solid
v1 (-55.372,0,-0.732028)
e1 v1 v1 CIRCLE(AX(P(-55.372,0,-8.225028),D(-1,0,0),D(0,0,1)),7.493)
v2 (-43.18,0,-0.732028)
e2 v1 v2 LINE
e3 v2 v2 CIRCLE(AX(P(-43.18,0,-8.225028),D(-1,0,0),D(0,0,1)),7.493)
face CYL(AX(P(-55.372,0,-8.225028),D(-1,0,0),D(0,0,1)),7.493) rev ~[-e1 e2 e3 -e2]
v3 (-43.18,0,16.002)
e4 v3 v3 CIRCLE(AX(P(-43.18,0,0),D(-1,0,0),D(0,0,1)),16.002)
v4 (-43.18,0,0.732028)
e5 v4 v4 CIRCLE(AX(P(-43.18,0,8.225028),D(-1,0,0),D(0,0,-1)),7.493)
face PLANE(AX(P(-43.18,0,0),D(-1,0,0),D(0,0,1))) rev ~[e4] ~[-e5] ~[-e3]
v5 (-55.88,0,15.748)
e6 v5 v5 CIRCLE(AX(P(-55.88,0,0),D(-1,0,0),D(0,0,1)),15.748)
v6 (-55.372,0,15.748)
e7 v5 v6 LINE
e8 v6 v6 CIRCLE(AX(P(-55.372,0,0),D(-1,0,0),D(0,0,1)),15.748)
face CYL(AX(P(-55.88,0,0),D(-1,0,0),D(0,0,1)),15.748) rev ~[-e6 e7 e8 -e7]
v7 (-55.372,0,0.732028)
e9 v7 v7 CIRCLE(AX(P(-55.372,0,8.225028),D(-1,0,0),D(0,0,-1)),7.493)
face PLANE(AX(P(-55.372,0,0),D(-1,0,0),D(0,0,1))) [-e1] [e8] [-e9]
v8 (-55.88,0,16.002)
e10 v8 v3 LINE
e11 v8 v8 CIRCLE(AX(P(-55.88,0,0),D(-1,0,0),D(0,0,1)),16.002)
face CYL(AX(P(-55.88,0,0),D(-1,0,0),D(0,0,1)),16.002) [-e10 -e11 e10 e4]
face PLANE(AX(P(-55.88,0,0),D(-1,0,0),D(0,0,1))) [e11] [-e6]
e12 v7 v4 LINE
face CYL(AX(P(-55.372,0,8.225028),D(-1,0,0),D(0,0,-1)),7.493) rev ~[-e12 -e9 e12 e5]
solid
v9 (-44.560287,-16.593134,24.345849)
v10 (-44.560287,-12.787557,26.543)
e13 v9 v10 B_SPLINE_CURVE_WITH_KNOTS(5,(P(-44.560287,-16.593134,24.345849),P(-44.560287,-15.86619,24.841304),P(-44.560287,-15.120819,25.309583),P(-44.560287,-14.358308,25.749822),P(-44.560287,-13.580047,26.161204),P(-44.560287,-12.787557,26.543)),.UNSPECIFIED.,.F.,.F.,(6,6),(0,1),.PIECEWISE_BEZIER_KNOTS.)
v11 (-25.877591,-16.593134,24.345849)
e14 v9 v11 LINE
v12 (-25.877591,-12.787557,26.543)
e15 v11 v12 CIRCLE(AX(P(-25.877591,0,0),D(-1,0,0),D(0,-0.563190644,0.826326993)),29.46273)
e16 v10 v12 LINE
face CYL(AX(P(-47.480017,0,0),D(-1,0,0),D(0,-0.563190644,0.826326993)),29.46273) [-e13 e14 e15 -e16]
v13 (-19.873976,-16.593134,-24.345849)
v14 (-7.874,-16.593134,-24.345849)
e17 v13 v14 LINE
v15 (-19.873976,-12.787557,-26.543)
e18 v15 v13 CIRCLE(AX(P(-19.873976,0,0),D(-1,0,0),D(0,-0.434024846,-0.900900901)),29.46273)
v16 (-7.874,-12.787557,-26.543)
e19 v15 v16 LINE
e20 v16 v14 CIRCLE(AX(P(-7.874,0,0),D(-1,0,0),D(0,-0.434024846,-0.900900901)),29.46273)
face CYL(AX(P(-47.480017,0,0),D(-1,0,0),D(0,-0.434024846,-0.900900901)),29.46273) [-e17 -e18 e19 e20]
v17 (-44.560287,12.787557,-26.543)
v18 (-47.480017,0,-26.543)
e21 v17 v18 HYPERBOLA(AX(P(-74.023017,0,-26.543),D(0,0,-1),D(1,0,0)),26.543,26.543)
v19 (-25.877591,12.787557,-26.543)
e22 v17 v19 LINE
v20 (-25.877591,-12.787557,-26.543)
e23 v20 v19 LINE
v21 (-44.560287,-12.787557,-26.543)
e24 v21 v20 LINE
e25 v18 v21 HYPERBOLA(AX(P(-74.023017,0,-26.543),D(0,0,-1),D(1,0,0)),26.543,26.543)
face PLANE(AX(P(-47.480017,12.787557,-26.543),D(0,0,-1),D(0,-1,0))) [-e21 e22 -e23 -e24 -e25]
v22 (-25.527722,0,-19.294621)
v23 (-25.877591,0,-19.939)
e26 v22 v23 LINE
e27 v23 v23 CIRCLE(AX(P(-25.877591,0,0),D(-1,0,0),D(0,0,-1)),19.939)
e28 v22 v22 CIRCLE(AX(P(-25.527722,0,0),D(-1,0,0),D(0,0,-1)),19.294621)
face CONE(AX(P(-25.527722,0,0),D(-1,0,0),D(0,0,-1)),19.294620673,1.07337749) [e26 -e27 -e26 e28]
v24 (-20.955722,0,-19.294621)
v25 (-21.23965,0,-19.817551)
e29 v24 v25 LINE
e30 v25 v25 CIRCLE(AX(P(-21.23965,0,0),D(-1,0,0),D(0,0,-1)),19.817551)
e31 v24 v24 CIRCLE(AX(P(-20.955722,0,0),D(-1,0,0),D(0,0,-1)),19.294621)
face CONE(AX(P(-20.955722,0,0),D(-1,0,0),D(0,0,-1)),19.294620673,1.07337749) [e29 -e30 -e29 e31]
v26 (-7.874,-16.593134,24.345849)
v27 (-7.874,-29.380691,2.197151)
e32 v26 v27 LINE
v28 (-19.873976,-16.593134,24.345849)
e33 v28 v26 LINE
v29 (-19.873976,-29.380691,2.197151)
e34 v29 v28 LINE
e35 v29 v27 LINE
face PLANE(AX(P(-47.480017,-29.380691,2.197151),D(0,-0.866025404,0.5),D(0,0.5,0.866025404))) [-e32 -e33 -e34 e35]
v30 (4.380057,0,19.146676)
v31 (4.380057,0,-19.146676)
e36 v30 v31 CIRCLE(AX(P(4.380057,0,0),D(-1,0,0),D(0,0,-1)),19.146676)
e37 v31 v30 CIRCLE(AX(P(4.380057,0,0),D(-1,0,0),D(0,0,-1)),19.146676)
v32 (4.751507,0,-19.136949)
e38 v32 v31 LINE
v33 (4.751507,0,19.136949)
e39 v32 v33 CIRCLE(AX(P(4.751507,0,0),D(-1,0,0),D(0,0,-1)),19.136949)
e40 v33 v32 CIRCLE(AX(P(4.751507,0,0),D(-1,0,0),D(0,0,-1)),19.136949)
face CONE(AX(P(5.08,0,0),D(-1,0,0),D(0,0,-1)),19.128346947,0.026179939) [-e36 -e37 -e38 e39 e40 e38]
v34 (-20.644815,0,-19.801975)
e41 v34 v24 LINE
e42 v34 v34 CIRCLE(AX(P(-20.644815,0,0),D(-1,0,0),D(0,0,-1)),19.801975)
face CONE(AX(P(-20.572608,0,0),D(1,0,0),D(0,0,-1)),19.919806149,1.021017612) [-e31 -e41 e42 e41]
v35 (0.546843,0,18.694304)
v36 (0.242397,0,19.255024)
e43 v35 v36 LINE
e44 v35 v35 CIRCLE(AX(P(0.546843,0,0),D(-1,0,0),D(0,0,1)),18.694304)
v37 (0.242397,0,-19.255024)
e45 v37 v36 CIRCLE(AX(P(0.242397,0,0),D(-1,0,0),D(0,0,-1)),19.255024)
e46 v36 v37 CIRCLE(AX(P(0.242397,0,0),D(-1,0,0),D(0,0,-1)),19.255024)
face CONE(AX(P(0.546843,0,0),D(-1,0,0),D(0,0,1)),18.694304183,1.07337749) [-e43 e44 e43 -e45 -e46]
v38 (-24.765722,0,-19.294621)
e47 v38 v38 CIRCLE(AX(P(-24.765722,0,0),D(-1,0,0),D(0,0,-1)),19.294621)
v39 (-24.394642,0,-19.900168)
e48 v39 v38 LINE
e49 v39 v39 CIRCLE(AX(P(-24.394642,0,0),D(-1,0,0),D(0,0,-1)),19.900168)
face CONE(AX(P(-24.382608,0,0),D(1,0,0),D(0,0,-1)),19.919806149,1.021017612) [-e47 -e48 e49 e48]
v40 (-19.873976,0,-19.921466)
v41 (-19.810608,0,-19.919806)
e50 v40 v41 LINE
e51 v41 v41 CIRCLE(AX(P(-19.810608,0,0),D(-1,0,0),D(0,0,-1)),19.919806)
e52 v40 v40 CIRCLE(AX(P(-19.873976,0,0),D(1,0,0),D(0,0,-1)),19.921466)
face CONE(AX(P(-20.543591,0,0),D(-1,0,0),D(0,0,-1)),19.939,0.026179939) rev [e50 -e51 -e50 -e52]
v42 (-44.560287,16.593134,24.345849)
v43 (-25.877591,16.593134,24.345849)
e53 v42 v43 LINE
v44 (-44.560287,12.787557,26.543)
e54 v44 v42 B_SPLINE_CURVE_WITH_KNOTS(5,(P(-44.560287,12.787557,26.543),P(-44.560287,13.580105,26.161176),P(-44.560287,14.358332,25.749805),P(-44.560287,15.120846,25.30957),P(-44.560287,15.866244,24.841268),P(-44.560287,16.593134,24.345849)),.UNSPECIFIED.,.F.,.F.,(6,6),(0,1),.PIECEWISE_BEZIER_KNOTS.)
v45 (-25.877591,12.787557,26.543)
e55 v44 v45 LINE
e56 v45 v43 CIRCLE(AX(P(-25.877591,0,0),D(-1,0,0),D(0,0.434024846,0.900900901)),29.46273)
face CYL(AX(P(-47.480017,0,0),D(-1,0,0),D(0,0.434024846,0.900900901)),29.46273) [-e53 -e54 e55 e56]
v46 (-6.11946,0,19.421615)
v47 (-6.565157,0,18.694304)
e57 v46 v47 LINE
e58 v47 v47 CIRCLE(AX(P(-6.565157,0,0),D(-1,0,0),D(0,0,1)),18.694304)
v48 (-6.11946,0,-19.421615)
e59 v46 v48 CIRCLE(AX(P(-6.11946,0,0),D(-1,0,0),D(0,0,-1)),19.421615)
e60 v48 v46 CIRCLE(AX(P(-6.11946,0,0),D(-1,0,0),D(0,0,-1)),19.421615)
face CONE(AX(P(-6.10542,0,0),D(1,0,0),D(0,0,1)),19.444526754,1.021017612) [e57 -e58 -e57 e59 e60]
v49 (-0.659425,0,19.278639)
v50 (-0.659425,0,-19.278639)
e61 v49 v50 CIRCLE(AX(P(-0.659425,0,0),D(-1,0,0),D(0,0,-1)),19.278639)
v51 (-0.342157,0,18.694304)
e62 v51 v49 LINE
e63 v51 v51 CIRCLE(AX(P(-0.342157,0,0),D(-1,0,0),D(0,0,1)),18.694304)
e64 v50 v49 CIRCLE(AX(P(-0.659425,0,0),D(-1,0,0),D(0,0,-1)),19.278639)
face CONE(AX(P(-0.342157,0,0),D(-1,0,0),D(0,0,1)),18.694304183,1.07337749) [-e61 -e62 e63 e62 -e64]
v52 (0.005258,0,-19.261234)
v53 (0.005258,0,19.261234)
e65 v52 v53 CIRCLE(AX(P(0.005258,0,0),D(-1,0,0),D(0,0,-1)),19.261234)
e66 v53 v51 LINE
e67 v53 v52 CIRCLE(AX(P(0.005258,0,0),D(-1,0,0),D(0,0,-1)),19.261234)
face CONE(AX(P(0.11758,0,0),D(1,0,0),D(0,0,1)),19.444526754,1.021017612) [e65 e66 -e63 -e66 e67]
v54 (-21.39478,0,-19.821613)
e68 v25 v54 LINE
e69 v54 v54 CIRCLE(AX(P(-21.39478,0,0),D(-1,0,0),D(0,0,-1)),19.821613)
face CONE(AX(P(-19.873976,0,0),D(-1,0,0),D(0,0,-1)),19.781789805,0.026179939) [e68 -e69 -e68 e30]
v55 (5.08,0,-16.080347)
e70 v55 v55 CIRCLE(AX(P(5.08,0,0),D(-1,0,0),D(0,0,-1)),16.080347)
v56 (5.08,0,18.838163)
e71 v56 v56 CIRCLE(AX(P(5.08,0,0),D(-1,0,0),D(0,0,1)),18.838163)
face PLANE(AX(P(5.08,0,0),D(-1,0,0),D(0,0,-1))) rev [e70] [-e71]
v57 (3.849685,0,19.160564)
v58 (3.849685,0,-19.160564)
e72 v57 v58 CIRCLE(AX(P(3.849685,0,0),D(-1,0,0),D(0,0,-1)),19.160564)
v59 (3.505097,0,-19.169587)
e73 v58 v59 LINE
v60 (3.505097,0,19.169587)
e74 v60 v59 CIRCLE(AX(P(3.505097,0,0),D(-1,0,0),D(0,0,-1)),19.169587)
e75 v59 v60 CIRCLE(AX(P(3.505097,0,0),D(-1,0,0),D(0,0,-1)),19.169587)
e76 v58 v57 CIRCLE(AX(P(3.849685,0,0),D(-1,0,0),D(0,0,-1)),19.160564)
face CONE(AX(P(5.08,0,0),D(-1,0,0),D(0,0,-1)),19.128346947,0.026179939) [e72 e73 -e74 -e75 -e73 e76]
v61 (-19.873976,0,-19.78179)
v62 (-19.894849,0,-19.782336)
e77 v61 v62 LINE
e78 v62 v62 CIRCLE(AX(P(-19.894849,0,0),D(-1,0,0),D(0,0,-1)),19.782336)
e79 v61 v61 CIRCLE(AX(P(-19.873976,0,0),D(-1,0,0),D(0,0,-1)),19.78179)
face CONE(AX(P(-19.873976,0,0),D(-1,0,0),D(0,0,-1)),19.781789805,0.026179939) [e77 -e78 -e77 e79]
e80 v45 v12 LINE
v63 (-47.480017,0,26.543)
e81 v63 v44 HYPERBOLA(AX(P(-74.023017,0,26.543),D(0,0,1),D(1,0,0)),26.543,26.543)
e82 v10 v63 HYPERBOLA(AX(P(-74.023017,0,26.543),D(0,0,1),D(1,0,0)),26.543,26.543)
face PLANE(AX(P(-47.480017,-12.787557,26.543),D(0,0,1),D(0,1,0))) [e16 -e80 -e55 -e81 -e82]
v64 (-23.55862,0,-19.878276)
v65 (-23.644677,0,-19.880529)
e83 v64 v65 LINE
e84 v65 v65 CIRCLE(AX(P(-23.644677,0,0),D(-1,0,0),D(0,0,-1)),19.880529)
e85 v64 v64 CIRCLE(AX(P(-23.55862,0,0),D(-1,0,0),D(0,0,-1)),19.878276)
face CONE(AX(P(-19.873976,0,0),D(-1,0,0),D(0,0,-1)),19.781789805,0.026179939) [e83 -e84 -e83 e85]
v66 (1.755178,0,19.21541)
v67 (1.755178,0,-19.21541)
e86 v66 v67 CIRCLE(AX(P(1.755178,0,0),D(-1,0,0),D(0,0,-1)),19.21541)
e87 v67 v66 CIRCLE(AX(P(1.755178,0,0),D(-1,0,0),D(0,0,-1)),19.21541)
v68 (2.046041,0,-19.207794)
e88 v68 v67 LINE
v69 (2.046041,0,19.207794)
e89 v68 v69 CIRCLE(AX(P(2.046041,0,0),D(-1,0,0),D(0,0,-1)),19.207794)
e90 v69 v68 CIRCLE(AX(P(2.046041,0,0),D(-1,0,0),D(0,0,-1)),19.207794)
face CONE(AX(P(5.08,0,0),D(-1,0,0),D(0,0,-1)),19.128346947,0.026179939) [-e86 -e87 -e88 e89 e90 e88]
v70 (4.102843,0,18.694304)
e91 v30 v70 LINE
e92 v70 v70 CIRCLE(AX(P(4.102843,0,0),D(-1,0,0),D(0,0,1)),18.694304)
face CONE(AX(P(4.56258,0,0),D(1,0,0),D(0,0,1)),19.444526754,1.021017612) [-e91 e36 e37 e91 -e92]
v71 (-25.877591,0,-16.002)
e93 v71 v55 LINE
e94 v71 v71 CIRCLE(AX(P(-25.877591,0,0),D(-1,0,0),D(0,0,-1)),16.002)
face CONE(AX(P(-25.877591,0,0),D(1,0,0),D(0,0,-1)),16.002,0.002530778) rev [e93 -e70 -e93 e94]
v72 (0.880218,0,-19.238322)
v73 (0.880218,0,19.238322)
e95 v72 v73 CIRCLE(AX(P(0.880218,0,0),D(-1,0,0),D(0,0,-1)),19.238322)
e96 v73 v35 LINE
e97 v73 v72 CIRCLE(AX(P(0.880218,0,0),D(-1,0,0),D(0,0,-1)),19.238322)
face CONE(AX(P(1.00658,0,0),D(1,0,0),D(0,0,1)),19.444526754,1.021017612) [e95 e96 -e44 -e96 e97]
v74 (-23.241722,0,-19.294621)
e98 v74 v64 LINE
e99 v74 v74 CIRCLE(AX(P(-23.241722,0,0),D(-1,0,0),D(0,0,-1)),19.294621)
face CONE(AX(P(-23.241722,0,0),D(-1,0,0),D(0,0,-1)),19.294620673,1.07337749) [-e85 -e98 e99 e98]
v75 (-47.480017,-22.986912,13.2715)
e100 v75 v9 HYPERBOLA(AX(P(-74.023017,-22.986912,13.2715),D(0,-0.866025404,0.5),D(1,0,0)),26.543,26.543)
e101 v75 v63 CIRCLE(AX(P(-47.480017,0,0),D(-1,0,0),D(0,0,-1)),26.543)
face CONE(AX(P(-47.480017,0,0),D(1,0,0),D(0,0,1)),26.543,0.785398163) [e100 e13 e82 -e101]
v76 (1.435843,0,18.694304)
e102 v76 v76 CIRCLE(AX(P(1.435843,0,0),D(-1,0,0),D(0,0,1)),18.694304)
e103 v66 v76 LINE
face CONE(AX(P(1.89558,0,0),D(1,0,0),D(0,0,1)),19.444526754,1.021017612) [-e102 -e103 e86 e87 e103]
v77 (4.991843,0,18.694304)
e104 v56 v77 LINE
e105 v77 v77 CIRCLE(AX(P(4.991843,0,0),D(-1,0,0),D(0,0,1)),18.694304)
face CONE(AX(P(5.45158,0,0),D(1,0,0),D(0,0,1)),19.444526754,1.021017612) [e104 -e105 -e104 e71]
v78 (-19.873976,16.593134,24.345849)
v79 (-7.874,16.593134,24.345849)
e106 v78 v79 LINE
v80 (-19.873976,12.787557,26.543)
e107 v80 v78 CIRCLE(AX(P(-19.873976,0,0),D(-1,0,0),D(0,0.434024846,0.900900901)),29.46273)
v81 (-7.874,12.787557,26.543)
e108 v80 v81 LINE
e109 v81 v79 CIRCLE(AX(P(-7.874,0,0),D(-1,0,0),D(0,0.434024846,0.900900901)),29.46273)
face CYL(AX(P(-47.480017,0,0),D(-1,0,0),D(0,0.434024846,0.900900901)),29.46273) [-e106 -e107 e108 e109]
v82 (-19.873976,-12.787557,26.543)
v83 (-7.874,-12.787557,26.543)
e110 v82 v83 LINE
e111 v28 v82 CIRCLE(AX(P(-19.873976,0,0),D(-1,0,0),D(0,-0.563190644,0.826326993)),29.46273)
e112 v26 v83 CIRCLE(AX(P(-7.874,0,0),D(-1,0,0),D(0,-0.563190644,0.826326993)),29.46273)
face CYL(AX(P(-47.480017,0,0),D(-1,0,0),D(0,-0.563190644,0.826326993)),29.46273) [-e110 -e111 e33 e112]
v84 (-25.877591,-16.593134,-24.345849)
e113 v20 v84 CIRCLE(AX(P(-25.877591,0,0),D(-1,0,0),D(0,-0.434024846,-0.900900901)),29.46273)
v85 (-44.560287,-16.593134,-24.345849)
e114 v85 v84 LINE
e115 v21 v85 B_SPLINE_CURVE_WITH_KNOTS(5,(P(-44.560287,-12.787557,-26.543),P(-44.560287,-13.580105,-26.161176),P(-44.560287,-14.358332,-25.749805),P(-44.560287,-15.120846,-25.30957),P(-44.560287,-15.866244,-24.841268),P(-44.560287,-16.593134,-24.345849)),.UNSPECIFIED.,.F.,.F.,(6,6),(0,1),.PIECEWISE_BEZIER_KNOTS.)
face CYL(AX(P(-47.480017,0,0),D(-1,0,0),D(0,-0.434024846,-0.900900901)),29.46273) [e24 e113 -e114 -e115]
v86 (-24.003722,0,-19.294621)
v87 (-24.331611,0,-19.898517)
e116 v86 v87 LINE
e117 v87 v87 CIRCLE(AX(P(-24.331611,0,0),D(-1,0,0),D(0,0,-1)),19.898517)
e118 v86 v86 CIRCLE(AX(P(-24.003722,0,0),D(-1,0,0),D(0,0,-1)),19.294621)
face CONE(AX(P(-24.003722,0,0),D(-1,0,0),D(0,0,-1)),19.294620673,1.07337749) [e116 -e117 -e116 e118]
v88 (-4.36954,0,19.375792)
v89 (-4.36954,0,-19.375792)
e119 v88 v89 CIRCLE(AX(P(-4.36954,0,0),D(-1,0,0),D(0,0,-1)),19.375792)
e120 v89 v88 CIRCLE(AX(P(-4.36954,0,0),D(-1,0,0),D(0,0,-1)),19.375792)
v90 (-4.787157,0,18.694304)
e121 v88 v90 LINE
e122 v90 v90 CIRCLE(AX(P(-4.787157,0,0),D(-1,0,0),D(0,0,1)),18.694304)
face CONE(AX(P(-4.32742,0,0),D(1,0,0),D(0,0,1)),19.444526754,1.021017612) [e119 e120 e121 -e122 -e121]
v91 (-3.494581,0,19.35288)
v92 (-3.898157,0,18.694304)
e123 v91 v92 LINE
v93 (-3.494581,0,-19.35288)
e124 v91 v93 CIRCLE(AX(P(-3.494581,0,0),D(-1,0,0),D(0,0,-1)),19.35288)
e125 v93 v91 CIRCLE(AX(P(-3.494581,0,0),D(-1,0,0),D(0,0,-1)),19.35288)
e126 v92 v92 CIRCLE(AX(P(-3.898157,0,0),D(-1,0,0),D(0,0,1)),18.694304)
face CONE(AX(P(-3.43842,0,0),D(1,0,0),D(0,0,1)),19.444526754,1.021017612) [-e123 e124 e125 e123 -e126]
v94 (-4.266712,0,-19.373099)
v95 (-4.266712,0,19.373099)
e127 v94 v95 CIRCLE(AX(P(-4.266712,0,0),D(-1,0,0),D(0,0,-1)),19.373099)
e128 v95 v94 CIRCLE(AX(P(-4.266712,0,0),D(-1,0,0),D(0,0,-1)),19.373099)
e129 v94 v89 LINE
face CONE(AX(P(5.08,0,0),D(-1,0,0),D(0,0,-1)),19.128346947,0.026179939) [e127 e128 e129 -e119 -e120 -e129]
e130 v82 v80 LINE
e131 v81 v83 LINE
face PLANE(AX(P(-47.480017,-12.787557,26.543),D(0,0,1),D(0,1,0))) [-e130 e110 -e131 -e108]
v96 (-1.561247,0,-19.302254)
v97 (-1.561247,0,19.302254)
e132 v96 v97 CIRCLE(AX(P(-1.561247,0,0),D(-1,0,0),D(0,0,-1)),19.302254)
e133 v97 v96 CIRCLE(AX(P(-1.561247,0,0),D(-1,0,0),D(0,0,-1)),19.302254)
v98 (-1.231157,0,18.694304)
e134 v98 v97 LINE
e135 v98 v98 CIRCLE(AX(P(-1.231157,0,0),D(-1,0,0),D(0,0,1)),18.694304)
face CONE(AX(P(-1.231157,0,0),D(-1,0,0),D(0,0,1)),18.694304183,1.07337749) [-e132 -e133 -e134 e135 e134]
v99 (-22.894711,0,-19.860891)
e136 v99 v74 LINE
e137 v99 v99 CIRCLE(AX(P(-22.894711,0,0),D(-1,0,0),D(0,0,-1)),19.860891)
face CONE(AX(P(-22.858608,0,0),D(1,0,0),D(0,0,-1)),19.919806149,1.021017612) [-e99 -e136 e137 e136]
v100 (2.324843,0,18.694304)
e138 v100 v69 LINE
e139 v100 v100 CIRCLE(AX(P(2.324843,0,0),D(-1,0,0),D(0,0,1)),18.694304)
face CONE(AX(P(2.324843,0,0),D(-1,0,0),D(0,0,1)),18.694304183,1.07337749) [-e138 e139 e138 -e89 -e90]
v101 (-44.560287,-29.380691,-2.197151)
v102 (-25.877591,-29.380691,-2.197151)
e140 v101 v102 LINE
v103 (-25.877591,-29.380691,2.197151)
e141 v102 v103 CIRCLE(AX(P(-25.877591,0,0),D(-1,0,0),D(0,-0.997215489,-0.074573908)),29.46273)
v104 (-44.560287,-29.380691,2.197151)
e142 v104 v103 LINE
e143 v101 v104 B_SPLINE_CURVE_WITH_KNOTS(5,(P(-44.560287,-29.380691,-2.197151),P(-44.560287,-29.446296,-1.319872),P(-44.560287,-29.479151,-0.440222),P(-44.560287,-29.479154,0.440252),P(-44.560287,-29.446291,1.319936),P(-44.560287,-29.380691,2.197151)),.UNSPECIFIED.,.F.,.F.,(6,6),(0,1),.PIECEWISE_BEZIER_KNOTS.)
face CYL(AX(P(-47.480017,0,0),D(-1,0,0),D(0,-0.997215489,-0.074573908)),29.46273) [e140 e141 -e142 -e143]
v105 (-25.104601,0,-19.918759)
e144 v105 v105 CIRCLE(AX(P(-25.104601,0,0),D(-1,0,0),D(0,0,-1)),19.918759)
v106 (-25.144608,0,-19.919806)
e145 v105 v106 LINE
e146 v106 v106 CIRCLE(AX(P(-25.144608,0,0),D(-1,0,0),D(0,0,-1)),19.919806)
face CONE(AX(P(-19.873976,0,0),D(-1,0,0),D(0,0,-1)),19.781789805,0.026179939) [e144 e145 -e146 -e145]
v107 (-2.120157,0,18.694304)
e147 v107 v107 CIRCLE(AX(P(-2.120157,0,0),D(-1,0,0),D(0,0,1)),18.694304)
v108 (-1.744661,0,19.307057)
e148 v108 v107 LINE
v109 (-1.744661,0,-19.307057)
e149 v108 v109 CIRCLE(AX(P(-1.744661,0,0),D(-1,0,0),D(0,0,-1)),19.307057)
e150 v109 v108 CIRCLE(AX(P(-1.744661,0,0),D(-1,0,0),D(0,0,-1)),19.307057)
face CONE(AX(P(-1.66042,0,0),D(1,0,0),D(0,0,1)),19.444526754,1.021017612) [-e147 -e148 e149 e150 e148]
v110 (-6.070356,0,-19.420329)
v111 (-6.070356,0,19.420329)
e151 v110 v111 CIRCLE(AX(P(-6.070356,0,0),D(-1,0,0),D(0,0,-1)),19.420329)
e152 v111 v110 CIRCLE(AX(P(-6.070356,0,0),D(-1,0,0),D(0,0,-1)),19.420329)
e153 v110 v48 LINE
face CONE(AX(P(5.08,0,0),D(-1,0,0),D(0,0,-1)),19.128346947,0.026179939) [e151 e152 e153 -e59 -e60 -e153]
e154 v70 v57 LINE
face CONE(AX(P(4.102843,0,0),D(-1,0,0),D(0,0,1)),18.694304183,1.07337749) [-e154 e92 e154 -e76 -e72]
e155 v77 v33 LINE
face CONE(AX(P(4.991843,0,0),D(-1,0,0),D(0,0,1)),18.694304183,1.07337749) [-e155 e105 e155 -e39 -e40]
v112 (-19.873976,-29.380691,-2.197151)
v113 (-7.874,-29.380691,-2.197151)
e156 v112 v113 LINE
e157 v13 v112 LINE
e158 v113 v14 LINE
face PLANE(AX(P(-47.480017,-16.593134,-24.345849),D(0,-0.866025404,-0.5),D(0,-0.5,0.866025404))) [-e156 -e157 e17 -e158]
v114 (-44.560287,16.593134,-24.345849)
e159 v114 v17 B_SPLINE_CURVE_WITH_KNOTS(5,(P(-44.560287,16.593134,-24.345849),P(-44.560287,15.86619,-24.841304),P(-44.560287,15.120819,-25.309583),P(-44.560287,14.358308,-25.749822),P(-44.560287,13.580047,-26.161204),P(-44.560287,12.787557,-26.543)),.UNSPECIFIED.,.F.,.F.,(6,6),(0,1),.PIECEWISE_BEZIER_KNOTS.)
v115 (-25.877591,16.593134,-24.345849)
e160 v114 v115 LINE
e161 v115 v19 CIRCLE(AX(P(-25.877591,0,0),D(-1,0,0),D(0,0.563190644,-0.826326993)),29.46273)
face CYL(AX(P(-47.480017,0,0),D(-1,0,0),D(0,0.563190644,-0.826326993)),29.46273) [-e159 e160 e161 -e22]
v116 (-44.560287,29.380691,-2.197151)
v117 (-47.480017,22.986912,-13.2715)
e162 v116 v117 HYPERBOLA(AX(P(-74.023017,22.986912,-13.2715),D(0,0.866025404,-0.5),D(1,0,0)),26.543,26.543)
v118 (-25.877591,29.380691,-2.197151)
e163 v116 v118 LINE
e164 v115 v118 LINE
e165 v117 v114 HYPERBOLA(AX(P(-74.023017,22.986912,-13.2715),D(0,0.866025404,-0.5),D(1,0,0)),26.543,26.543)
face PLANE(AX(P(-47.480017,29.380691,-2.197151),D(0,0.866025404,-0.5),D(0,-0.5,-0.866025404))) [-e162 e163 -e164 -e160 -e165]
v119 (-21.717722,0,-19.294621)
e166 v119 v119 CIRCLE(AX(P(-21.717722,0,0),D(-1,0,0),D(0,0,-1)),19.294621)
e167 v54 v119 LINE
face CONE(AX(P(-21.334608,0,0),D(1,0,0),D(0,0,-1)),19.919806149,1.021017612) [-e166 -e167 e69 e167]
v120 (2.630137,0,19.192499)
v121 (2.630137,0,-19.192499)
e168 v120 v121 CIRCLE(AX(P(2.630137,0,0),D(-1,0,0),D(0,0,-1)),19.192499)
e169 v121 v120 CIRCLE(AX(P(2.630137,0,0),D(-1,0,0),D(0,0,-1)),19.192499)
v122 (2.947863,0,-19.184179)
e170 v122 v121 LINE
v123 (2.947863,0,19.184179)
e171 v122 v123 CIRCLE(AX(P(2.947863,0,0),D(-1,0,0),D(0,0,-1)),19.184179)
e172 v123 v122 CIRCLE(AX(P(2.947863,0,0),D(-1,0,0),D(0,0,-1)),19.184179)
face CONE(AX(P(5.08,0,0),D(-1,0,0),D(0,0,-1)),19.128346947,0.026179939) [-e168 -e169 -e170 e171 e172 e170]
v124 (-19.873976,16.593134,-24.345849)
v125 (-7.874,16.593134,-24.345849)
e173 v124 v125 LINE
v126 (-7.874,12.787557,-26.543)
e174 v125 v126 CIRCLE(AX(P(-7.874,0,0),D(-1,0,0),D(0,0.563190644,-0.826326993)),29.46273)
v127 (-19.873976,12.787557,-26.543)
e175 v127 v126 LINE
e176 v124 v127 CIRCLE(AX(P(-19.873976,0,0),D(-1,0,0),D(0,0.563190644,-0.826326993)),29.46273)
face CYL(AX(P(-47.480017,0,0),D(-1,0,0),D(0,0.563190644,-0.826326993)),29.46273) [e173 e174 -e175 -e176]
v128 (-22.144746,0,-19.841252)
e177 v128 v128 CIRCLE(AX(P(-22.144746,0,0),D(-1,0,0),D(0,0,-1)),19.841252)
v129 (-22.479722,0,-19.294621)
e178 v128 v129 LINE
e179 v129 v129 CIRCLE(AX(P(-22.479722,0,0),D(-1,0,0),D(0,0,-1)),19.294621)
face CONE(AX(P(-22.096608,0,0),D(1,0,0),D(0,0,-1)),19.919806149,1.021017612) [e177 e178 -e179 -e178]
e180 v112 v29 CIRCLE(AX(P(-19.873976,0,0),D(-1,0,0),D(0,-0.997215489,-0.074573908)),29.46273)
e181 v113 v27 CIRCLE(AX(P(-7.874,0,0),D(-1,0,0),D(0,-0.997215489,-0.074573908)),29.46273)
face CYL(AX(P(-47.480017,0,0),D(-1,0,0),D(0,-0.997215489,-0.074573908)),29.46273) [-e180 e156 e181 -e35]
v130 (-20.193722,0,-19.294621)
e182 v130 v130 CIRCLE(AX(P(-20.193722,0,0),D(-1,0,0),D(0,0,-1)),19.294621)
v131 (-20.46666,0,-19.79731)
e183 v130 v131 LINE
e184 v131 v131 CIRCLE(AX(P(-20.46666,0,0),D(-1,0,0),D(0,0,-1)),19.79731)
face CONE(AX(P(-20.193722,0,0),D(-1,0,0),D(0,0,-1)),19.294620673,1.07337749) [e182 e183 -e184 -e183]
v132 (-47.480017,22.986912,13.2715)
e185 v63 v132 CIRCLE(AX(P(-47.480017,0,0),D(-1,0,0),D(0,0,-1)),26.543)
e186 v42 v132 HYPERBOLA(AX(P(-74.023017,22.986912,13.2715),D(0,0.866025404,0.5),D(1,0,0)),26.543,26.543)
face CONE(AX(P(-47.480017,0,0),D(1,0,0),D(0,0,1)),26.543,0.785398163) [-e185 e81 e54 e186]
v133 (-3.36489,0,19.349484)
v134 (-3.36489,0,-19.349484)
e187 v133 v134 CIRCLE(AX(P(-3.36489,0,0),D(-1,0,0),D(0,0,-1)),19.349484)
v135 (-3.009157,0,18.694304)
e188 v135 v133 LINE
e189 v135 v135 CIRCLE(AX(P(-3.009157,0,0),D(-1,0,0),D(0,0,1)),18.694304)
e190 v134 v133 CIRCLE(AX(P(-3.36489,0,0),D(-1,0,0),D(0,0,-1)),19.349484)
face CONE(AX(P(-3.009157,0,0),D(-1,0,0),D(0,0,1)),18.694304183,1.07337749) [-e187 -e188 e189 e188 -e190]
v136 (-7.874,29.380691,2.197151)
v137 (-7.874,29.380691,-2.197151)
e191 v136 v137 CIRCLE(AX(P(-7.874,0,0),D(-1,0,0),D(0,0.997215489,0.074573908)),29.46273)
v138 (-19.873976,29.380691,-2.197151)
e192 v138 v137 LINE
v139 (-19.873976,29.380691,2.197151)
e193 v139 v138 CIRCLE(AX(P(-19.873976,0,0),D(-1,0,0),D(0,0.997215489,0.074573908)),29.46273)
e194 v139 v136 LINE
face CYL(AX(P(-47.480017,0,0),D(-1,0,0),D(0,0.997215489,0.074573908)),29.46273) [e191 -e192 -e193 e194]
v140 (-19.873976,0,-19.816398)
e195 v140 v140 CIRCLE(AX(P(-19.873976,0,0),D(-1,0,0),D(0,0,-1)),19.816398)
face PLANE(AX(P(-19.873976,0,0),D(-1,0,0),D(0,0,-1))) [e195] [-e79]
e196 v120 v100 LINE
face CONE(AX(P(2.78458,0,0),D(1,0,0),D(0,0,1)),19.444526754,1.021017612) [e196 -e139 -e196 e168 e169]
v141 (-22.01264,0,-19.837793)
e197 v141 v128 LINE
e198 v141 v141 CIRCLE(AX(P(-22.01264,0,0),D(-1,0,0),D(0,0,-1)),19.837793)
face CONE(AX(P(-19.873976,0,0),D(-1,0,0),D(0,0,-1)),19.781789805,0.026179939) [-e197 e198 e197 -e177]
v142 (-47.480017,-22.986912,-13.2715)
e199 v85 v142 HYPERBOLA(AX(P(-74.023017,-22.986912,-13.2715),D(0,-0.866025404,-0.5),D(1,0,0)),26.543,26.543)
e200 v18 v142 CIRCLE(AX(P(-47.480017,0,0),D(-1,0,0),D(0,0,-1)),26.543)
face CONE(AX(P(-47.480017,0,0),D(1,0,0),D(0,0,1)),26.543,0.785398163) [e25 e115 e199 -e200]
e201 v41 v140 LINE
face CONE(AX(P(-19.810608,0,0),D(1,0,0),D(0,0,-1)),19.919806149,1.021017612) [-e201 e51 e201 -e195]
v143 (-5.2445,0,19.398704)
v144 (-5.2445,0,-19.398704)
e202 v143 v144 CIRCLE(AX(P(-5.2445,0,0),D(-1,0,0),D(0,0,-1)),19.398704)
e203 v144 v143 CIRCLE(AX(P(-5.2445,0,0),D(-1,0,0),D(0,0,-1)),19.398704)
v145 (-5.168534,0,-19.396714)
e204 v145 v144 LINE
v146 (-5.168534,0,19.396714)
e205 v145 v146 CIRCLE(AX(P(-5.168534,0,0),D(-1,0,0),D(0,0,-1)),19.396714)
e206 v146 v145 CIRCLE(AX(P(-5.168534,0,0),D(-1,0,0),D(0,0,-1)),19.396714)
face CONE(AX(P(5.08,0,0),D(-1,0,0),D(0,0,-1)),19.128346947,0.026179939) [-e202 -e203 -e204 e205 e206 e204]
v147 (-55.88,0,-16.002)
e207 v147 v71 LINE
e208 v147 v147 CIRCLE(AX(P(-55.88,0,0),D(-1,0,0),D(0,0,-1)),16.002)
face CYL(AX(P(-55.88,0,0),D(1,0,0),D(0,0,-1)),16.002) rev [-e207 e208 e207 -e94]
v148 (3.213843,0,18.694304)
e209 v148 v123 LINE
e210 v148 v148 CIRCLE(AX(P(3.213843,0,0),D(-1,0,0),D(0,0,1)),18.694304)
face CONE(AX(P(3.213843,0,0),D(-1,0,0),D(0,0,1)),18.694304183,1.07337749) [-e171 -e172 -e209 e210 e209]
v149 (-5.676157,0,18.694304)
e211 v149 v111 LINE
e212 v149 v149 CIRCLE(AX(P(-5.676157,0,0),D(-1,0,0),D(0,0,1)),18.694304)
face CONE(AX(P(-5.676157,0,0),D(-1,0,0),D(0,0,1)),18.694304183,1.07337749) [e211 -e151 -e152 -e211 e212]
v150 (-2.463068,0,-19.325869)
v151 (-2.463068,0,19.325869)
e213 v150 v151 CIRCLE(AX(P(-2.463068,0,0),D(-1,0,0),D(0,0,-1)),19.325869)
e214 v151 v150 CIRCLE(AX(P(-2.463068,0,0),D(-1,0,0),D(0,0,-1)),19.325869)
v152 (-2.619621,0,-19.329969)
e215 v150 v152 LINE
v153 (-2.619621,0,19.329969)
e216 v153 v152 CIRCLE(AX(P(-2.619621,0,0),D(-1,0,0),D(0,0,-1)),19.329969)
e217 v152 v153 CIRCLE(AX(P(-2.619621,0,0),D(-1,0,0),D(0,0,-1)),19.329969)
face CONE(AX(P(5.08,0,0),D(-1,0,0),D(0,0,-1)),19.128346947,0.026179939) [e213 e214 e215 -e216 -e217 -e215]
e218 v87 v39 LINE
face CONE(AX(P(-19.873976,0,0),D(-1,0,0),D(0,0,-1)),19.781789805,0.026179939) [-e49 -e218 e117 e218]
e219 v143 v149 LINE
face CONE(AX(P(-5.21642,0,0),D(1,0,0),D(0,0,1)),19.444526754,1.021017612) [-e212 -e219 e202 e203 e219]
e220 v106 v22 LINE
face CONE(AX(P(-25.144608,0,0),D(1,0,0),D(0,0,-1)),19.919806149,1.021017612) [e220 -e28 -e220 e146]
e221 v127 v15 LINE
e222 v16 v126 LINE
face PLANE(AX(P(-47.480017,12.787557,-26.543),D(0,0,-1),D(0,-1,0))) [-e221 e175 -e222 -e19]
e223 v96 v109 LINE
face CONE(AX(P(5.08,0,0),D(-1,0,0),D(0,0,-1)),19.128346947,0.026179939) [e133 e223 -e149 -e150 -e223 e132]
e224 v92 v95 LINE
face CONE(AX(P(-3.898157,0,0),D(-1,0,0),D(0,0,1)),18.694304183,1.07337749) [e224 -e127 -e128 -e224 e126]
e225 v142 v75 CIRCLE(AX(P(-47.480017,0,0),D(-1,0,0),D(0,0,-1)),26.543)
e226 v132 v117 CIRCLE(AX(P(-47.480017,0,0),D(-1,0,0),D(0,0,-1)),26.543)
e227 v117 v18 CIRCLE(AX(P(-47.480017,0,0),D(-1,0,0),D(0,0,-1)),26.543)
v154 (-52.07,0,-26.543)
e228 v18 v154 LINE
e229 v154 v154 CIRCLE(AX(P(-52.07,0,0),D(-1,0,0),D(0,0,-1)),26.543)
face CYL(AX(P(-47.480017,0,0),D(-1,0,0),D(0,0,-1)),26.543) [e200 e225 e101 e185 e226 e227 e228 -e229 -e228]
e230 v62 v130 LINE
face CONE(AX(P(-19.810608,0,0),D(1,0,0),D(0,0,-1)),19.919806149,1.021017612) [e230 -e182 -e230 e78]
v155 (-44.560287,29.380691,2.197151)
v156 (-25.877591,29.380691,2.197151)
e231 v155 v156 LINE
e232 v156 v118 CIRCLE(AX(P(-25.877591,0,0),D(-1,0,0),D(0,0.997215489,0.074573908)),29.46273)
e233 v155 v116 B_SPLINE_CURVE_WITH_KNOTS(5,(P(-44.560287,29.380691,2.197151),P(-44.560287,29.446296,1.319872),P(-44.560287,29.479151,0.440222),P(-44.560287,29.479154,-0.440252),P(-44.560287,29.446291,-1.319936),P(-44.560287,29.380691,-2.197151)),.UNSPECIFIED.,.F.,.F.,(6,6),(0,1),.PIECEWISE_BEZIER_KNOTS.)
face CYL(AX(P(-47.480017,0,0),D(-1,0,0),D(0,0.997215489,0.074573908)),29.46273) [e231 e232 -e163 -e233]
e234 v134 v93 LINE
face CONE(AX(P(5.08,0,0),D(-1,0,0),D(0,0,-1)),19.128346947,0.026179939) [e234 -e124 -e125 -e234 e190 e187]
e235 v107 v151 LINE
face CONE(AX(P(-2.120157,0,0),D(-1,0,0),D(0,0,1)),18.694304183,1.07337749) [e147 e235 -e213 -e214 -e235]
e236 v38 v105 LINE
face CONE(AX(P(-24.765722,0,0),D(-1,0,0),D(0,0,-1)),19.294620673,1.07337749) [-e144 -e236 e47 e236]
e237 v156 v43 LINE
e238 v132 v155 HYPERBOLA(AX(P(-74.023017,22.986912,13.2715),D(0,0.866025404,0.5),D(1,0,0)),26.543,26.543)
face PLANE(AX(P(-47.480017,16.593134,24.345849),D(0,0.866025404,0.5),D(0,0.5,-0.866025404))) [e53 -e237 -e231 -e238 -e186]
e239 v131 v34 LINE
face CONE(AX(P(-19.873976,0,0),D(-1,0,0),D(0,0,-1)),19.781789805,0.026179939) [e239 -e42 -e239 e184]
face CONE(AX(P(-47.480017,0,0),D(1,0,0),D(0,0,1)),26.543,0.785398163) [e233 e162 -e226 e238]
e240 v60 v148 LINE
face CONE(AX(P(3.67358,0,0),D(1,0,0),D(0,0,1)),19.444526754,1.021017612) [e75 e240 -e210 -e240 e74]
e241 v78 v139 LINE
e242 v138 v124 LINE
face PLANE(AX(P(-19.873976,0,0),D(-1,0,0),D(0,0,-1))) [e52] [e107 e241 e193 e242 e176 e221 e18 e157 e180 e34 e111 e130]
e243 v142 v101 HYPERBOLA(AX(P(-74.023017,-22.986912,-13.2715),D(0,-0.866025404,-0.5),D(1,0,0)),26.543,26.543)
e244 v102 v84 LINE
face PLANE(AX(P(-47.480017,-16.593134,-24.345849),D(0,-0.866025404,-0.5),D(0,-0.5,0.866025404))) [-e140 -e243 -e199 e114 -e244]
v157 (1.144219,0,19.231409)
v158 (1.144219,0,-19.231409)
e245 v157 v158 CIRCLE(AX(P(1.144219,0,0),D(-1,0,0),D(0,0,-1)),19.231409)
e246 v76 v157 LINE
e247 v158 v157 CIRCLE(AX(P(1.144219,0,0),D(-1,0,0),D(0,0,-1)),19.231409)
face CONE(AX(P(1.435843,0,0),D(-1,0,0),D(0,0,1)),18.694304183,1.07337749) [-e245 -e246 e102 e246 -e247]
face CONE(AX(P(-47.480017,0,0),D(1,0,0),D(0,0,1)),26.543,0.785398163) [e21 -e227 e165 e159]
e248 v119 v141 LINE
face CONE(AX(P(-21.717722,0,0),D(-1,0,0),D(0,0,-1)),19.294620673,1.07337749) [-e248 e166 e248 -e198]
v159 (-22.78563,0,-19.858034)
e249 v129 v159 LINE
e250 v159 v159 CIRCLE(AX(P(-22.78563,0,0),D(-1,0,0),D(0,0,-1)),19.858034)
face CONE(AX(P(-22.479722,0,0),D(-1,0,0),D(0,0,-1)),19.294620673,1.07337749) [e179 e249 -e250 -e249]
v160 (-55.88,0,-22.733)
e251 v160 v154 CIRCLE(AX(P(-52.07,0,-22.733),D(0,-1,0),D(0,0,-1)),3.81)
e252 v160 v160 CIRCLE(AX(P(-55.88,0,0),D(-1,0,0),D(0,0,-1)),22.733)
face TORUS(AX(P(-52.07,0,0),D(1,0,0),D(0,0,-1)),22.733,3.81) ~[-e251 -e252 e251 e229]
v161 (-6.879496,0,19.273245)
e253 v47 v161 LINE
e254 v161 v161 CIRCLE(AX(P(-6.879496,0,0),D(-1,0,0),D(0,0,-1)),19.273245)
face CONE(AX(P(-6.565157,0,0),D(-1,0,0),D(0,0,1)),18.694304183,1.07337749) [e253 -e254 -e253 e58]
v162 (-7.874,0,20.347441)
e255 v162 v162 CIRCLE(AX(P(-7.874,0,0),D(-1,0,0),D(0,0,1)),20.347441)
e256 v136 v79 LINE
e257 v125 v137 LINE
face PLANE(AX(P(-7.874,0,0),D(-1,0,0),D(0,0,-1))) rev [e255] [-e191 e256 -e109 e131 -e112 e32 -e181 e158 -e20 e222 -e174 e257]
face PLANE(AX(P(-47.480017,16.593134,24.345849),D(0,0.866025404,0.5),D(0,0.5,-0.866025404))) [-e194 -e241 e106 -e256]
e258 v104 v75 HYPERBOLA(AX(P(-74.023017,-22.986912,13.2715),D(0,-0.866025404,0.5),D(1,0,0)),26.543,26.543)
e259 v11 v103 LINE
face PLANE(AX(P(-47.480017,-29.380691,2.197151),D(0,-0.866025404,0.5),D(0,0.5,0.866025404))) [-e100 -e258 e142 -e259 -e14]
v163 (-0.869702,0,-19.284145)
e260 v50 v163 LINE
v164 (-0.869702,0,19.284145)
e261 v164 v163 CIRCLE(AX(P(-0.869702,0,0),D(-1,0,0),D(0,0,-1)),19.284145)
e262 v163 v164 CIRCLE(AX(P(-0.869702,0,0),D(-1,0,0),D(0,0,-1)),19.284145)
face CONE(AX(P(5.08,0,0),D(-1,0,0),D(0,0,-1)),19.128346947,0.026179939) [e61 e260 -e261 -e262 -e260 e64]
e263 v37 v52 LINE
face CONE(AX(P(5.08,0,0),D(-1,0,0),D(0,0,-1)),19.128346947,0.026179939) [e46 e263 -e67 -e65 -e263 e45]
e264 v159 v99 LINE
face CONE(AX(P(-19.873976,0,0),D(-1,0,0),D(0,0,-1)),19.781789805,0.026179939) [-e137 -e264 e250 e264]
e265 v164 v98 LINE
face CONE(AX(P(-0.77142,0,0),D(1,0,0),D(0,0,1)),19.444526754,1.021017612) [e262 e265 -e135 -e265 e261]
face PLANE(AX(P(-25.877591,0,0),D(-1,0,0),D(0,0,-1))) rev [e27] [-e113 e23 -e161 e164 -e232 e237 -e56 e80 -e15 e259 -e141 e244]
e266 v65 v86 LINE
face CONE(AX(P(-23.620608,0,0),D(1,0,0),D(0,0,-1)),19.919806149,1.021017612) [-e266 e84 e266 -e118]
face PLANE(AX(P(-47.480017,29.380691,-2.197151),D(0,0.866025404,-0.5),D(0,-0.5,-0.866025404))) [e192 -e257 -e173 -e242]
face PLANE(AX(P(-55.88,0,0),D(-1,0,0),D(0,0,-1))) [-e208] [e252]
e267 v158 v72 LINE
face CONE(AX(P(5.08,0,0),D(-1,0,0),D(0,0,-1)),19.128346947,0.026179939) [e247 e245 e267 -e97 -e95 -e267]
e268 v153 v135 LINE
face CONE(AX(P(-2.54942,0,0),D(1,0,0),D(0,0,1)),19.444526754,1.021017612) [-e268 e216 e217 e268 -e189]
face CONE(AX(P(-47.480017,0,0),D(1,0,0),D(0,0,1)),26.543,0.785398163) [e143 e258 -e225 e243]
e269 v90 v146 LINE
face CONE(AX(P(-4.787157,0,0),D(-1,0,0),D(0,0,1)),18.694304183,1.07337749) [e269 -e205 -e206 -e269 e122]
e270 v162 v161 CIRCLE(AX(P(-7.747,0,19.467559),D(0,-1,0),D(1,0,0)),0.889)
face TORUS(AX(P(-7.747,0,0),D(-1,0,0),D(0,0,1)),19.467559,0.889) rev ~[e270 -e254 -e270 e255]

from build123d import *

# Parameters (mm, degrees)
SKETCH12_OUTSIDE_W = 140.582
SKETCH12_OUTSIDE_H = 140.582
CUT_EXTRUDE2_DEPTH = 53.5600168
FILLET4_R          = 3.81
SKETCH19_OUTSIDE_W = 83.088
SKETCH19_OUTSIDE_H = 88.928
SKETCH19_OUTSIDE_R = 26.543
CUT_EXTRUDE3_DEPTH = 3.99796
CUT_EXTRUDE3_DRAFT = -45
CHAMFER1_SIZE      = 0.260919487
CHAMFER1_SIZE2     = 0.254
SKETCH21_R         = 16.002
PLUG_DEPTH         = 12.7
SKETCH22_R         = 15.748
CUT_EXTRUDE4_DEPTH = 0.508
SKETCH27_R         = 7.493
PLUGHOLES_DEPTH    = 61.452
CIRPATTERN1_COUNT  = 2
LPATTERN1_COUNT    = 8
LPATTERN1_PITCH    = 0.762
LPATTERN2_COUNT    = 15
LPATTERN2_PITCH    = 0.889
SKETCH32_R         = 0.889


with BuildPart() as part:
    # Sketch10 → Revolve2 (revolve)
    with BuildSketch(Plane.XY, mode=Mode.PRIVATE) as revolve2_sk:
        Polygon((-55.88, 16.002), (-25.87759112, 16.002), (5.08, 16.080346947), (5.08, 19.128346947), (-7.874, 19.467559375), (-7.874, 53.086), (-19.873976, 53.086), (-19.873976, 19.781789805), (-25.87759112, 19.939), (-25.87759112, 53.086), (-47.4800168, 53.086), (-47.4800168, 26.543), (-55.88, 26.543), align=None)
    revolve(revolve2_sk.sketch.rotate(Axis((0, 0, 0), (-1, 0, 0)), 90), axis=Axis((0, 0, 0), (-1, 0, 0)))  # turned: the seam where the file's is

    # Sketch12 outside → Cut-Extrude2 (cut, through all)
    with BuildSketch(Plane.ZY.offset(47.4800168)):
        Rectangle(SKETCH12_OUTSIDE_W, SKETCH12_OUTSIDE_H)
        with BuildLine():
            Line((-2.19715092, 29.380690715), (-24.34584908, 16.59313387))
            ThreePointArc((-24.34584908, 16.59313387), (-25.515472645, 14.731365), (-26.543, 12.787556845))
            Line((-26.543, 12.787556845), (-26.543, -12.787556845))
            ThreePointArc((-26.543, -12.787556845), (-25.515472645, -14.731365), (-24.34584908, -16.59313387))
            Line((-24.34584908, -16.59313387), (-2.19715092, -29.380690715))
            ThreePointArc((-2.19715092, -29.380690715), (0, -29.46273), (2.19715092, -29.380690715))
            Line((2.19715092, -29.380690715), (24.34584908, -16.59313387))
            ThreePointArc((24.34584908, -16.59313387), (25.515472645, -14.731365), (26.543, -12.787556845))
            Line((26.543, -12.787556845), (26.543, 12.787556845))
            ThreePointArc((26.543, 12.787556845), (25.515472645, 14.731365), (24.34584908, 16.59313387))
            Line((24.34584908, 16.59313387), (2.19715092, 29.380690715))
            ThreePointArc((2.19715092, 29.380690715), (0, 29.46273), (-2.19715092, 29.380690715))
        make_face(mode=Mode.SUBTRACT)
    extrude(amount=-CUT_EXTRUDE2_DEPTH, mode=Mode.SUBTRACT)

    # Fillet4
    fillet4_edges = [part.edges().sort_by_distance(p)[0] for p in [
        (-55.88, 0, 26.543),
    ]]
    fillet(fillet4_edges, radius=FILLET4_R)


with BuildPart() as cut_extrude3_tool:
    # Sketch19 outside → Cut-Extrude3 (with draft: the straight prism first)
    with BuildSketch(Plane.ZY.offset(47.4800168)):
        Rectangle(SKETCH19_OUTSIDE_W, SKETCH19_OUTSIDE_H)
        Circle(SKETCH19_OUTSIDE_R, mode=Mode.SUBTRACT)
    extrude(amount=-CUT_EXTRUDE3_DEPTH)
    # Cut-Extrude3: the draft: its side faces are tilted about the plane it starts from
    cut_extrude3_sides = [cut_extrude3_tool.faces().sort_by_distance(p)[0] for p in [
        (-45.4810368, -44.464, 0),
        (-45.4810368, 0, 41.544),
        (-45.4810368, 44.464, 0),
        (-45.4810368, 0, -41.544),
        (-45.4810368, 0, -26.543),
    ]]
    draft(cut_extrude3_sides, Plane.ZY.offset(47.4800168), CUT_EXTRUDE3_DRAFT)


with BuildPart() as part_1:
    add(part.part)

    # Cut-Extrude3: cut by cut_extrude3_tool
    add(cut_extrude3_tool.part, mode=Mode.SUBTRACT)

    # Chamfer1
    chamfer1_edges = [part_1.edges().sort_by_distance(p)[0] for p in [
        (5.08, 0, 19.128346947),
    ]]
    chamfer1_side = [part_1.faces().sort_by_distance(p)[0] for p in [
        (5.08, 0, 16.621378301),
    ]]
    chamfer(chamfer1_edges, length=CHAMFER1_SIZE, length2=CHAMFER1_SIZE2, reference=chamfer1_side[0])

    # Sketch29 → Cut-Revolve1 (revolve, cut)
    with BuildSketch(Plane.XY, mode=Mode.PRIVATE) as cut_revolve1_sk:
        Polygon((-25.87759112, 19.939), (-25.144607539, 19.919806149), (-25.527721692, 19.294620673), align=None)
    cut_revolve1 = revolve(cut_revolve1_sk.sketch.rotate(Axis((0, 0, 0), (-1, 0, 0)), 90), axis=Axis((0, 0, 0), (-1, 0, 0)), mode=Mode.SUBTRACT)  # turned: the seam where the file's is

    # LPattern1: Cut-Revolve1 ×8
    with Locations(*[(i * LPATTERN1_PITCH, 0, 0) for i in range(1, LPATTERN1_COUNT)]):
        add(cut_revolve1, mode=Mode.SUBTRACT)

    # Sketch30 → Cut-Revolve2 (revolve, cut)
    with BuildSketch(Plane.XY, mode=Mode.PRIVATE) as cut_revolve2_sk:
        Polygon((-7.874, 19.467559375), (-6.994419703, 19.444526754), (-7.454156686, 18.694304183), align=None)
    cut_revolve2 = revolve(cut_revolve2_sk.sketch.rotate(Axis((0, 0, 0), (-1, 0, 0)), 270), axis=Axis((0, 0, 0), (-1, 0, 0)), mode=Mode.SUBTRACT)  # turned: the seam where the file's is

    # LPattern2: Cut-Revolve2 ×15
    with Locations(*[(i * LPATTERN2_PITCH, 0, 0) for i in range(1, LPATTERN2_COUNT)]):
        add(cut_revolve2, mode=Mode.SUBTRACT)

    # Sketch32 → Cut-Revolve3 (revolve, cut)
    with BuildSketch(Plane.XY, mode=Mode.PRIVATE) as cut_revolve3_sk:
        with Locations((-7.747, 19.467559375)):
            Circle(SKETCH32_R)
    revolve(cut_revolve3_sk.sketch.rotate(Axis((0, 0, 0), (-1, 0, 0)), 270), axis=Axis((0, 0, 0), (-1, 0, 0)), mode=Mode.SUBTRACT)  # turned: the seam where the file's is


with BuildPart() as body_2:
    # Sketch21 → plug (new body)
    with BuildSketch(Plane.ZY.offset(55.88)):
        Circle(SKETCH21_R)
    extrude(amount=-PLUG_DEPTH)

    # Sketch22 → Cut-Extrude4 (cut)
    with BuildSketch(Plane.ZY.offset(55.88)):
        Circle(SKETCH22_R)
    extrude(amount=-CUT_EXTRUDE4_DEPTH, mode=Mode.SUBTRACT)

    # Sketch27 → plugholes (cut, through all)
    with BuildSketch(Plane.ZY.offset(55.372)):
        with Locations((-8.225028, 0)):
            Circle(SKETCH27_R)
    plugholes = extrude(amount=-PLUGHOLES_DEPTH, mode=Mode.SUBTRACT)

    # CirPattern1: plugholes ×2 about axis
    cirpattern1_axis = Axis((0, 0, 0), (1, 0, 0))
    for i in range(1, CIRPATTERN1_COUNT):
        add(plugholes.rotate(cirpattern1_axis, i * 360 / CIRPATTERN1_COUNT), mode=Mode.SUBTRACT)


solid = Compound([part_1.part, body_2.part])
